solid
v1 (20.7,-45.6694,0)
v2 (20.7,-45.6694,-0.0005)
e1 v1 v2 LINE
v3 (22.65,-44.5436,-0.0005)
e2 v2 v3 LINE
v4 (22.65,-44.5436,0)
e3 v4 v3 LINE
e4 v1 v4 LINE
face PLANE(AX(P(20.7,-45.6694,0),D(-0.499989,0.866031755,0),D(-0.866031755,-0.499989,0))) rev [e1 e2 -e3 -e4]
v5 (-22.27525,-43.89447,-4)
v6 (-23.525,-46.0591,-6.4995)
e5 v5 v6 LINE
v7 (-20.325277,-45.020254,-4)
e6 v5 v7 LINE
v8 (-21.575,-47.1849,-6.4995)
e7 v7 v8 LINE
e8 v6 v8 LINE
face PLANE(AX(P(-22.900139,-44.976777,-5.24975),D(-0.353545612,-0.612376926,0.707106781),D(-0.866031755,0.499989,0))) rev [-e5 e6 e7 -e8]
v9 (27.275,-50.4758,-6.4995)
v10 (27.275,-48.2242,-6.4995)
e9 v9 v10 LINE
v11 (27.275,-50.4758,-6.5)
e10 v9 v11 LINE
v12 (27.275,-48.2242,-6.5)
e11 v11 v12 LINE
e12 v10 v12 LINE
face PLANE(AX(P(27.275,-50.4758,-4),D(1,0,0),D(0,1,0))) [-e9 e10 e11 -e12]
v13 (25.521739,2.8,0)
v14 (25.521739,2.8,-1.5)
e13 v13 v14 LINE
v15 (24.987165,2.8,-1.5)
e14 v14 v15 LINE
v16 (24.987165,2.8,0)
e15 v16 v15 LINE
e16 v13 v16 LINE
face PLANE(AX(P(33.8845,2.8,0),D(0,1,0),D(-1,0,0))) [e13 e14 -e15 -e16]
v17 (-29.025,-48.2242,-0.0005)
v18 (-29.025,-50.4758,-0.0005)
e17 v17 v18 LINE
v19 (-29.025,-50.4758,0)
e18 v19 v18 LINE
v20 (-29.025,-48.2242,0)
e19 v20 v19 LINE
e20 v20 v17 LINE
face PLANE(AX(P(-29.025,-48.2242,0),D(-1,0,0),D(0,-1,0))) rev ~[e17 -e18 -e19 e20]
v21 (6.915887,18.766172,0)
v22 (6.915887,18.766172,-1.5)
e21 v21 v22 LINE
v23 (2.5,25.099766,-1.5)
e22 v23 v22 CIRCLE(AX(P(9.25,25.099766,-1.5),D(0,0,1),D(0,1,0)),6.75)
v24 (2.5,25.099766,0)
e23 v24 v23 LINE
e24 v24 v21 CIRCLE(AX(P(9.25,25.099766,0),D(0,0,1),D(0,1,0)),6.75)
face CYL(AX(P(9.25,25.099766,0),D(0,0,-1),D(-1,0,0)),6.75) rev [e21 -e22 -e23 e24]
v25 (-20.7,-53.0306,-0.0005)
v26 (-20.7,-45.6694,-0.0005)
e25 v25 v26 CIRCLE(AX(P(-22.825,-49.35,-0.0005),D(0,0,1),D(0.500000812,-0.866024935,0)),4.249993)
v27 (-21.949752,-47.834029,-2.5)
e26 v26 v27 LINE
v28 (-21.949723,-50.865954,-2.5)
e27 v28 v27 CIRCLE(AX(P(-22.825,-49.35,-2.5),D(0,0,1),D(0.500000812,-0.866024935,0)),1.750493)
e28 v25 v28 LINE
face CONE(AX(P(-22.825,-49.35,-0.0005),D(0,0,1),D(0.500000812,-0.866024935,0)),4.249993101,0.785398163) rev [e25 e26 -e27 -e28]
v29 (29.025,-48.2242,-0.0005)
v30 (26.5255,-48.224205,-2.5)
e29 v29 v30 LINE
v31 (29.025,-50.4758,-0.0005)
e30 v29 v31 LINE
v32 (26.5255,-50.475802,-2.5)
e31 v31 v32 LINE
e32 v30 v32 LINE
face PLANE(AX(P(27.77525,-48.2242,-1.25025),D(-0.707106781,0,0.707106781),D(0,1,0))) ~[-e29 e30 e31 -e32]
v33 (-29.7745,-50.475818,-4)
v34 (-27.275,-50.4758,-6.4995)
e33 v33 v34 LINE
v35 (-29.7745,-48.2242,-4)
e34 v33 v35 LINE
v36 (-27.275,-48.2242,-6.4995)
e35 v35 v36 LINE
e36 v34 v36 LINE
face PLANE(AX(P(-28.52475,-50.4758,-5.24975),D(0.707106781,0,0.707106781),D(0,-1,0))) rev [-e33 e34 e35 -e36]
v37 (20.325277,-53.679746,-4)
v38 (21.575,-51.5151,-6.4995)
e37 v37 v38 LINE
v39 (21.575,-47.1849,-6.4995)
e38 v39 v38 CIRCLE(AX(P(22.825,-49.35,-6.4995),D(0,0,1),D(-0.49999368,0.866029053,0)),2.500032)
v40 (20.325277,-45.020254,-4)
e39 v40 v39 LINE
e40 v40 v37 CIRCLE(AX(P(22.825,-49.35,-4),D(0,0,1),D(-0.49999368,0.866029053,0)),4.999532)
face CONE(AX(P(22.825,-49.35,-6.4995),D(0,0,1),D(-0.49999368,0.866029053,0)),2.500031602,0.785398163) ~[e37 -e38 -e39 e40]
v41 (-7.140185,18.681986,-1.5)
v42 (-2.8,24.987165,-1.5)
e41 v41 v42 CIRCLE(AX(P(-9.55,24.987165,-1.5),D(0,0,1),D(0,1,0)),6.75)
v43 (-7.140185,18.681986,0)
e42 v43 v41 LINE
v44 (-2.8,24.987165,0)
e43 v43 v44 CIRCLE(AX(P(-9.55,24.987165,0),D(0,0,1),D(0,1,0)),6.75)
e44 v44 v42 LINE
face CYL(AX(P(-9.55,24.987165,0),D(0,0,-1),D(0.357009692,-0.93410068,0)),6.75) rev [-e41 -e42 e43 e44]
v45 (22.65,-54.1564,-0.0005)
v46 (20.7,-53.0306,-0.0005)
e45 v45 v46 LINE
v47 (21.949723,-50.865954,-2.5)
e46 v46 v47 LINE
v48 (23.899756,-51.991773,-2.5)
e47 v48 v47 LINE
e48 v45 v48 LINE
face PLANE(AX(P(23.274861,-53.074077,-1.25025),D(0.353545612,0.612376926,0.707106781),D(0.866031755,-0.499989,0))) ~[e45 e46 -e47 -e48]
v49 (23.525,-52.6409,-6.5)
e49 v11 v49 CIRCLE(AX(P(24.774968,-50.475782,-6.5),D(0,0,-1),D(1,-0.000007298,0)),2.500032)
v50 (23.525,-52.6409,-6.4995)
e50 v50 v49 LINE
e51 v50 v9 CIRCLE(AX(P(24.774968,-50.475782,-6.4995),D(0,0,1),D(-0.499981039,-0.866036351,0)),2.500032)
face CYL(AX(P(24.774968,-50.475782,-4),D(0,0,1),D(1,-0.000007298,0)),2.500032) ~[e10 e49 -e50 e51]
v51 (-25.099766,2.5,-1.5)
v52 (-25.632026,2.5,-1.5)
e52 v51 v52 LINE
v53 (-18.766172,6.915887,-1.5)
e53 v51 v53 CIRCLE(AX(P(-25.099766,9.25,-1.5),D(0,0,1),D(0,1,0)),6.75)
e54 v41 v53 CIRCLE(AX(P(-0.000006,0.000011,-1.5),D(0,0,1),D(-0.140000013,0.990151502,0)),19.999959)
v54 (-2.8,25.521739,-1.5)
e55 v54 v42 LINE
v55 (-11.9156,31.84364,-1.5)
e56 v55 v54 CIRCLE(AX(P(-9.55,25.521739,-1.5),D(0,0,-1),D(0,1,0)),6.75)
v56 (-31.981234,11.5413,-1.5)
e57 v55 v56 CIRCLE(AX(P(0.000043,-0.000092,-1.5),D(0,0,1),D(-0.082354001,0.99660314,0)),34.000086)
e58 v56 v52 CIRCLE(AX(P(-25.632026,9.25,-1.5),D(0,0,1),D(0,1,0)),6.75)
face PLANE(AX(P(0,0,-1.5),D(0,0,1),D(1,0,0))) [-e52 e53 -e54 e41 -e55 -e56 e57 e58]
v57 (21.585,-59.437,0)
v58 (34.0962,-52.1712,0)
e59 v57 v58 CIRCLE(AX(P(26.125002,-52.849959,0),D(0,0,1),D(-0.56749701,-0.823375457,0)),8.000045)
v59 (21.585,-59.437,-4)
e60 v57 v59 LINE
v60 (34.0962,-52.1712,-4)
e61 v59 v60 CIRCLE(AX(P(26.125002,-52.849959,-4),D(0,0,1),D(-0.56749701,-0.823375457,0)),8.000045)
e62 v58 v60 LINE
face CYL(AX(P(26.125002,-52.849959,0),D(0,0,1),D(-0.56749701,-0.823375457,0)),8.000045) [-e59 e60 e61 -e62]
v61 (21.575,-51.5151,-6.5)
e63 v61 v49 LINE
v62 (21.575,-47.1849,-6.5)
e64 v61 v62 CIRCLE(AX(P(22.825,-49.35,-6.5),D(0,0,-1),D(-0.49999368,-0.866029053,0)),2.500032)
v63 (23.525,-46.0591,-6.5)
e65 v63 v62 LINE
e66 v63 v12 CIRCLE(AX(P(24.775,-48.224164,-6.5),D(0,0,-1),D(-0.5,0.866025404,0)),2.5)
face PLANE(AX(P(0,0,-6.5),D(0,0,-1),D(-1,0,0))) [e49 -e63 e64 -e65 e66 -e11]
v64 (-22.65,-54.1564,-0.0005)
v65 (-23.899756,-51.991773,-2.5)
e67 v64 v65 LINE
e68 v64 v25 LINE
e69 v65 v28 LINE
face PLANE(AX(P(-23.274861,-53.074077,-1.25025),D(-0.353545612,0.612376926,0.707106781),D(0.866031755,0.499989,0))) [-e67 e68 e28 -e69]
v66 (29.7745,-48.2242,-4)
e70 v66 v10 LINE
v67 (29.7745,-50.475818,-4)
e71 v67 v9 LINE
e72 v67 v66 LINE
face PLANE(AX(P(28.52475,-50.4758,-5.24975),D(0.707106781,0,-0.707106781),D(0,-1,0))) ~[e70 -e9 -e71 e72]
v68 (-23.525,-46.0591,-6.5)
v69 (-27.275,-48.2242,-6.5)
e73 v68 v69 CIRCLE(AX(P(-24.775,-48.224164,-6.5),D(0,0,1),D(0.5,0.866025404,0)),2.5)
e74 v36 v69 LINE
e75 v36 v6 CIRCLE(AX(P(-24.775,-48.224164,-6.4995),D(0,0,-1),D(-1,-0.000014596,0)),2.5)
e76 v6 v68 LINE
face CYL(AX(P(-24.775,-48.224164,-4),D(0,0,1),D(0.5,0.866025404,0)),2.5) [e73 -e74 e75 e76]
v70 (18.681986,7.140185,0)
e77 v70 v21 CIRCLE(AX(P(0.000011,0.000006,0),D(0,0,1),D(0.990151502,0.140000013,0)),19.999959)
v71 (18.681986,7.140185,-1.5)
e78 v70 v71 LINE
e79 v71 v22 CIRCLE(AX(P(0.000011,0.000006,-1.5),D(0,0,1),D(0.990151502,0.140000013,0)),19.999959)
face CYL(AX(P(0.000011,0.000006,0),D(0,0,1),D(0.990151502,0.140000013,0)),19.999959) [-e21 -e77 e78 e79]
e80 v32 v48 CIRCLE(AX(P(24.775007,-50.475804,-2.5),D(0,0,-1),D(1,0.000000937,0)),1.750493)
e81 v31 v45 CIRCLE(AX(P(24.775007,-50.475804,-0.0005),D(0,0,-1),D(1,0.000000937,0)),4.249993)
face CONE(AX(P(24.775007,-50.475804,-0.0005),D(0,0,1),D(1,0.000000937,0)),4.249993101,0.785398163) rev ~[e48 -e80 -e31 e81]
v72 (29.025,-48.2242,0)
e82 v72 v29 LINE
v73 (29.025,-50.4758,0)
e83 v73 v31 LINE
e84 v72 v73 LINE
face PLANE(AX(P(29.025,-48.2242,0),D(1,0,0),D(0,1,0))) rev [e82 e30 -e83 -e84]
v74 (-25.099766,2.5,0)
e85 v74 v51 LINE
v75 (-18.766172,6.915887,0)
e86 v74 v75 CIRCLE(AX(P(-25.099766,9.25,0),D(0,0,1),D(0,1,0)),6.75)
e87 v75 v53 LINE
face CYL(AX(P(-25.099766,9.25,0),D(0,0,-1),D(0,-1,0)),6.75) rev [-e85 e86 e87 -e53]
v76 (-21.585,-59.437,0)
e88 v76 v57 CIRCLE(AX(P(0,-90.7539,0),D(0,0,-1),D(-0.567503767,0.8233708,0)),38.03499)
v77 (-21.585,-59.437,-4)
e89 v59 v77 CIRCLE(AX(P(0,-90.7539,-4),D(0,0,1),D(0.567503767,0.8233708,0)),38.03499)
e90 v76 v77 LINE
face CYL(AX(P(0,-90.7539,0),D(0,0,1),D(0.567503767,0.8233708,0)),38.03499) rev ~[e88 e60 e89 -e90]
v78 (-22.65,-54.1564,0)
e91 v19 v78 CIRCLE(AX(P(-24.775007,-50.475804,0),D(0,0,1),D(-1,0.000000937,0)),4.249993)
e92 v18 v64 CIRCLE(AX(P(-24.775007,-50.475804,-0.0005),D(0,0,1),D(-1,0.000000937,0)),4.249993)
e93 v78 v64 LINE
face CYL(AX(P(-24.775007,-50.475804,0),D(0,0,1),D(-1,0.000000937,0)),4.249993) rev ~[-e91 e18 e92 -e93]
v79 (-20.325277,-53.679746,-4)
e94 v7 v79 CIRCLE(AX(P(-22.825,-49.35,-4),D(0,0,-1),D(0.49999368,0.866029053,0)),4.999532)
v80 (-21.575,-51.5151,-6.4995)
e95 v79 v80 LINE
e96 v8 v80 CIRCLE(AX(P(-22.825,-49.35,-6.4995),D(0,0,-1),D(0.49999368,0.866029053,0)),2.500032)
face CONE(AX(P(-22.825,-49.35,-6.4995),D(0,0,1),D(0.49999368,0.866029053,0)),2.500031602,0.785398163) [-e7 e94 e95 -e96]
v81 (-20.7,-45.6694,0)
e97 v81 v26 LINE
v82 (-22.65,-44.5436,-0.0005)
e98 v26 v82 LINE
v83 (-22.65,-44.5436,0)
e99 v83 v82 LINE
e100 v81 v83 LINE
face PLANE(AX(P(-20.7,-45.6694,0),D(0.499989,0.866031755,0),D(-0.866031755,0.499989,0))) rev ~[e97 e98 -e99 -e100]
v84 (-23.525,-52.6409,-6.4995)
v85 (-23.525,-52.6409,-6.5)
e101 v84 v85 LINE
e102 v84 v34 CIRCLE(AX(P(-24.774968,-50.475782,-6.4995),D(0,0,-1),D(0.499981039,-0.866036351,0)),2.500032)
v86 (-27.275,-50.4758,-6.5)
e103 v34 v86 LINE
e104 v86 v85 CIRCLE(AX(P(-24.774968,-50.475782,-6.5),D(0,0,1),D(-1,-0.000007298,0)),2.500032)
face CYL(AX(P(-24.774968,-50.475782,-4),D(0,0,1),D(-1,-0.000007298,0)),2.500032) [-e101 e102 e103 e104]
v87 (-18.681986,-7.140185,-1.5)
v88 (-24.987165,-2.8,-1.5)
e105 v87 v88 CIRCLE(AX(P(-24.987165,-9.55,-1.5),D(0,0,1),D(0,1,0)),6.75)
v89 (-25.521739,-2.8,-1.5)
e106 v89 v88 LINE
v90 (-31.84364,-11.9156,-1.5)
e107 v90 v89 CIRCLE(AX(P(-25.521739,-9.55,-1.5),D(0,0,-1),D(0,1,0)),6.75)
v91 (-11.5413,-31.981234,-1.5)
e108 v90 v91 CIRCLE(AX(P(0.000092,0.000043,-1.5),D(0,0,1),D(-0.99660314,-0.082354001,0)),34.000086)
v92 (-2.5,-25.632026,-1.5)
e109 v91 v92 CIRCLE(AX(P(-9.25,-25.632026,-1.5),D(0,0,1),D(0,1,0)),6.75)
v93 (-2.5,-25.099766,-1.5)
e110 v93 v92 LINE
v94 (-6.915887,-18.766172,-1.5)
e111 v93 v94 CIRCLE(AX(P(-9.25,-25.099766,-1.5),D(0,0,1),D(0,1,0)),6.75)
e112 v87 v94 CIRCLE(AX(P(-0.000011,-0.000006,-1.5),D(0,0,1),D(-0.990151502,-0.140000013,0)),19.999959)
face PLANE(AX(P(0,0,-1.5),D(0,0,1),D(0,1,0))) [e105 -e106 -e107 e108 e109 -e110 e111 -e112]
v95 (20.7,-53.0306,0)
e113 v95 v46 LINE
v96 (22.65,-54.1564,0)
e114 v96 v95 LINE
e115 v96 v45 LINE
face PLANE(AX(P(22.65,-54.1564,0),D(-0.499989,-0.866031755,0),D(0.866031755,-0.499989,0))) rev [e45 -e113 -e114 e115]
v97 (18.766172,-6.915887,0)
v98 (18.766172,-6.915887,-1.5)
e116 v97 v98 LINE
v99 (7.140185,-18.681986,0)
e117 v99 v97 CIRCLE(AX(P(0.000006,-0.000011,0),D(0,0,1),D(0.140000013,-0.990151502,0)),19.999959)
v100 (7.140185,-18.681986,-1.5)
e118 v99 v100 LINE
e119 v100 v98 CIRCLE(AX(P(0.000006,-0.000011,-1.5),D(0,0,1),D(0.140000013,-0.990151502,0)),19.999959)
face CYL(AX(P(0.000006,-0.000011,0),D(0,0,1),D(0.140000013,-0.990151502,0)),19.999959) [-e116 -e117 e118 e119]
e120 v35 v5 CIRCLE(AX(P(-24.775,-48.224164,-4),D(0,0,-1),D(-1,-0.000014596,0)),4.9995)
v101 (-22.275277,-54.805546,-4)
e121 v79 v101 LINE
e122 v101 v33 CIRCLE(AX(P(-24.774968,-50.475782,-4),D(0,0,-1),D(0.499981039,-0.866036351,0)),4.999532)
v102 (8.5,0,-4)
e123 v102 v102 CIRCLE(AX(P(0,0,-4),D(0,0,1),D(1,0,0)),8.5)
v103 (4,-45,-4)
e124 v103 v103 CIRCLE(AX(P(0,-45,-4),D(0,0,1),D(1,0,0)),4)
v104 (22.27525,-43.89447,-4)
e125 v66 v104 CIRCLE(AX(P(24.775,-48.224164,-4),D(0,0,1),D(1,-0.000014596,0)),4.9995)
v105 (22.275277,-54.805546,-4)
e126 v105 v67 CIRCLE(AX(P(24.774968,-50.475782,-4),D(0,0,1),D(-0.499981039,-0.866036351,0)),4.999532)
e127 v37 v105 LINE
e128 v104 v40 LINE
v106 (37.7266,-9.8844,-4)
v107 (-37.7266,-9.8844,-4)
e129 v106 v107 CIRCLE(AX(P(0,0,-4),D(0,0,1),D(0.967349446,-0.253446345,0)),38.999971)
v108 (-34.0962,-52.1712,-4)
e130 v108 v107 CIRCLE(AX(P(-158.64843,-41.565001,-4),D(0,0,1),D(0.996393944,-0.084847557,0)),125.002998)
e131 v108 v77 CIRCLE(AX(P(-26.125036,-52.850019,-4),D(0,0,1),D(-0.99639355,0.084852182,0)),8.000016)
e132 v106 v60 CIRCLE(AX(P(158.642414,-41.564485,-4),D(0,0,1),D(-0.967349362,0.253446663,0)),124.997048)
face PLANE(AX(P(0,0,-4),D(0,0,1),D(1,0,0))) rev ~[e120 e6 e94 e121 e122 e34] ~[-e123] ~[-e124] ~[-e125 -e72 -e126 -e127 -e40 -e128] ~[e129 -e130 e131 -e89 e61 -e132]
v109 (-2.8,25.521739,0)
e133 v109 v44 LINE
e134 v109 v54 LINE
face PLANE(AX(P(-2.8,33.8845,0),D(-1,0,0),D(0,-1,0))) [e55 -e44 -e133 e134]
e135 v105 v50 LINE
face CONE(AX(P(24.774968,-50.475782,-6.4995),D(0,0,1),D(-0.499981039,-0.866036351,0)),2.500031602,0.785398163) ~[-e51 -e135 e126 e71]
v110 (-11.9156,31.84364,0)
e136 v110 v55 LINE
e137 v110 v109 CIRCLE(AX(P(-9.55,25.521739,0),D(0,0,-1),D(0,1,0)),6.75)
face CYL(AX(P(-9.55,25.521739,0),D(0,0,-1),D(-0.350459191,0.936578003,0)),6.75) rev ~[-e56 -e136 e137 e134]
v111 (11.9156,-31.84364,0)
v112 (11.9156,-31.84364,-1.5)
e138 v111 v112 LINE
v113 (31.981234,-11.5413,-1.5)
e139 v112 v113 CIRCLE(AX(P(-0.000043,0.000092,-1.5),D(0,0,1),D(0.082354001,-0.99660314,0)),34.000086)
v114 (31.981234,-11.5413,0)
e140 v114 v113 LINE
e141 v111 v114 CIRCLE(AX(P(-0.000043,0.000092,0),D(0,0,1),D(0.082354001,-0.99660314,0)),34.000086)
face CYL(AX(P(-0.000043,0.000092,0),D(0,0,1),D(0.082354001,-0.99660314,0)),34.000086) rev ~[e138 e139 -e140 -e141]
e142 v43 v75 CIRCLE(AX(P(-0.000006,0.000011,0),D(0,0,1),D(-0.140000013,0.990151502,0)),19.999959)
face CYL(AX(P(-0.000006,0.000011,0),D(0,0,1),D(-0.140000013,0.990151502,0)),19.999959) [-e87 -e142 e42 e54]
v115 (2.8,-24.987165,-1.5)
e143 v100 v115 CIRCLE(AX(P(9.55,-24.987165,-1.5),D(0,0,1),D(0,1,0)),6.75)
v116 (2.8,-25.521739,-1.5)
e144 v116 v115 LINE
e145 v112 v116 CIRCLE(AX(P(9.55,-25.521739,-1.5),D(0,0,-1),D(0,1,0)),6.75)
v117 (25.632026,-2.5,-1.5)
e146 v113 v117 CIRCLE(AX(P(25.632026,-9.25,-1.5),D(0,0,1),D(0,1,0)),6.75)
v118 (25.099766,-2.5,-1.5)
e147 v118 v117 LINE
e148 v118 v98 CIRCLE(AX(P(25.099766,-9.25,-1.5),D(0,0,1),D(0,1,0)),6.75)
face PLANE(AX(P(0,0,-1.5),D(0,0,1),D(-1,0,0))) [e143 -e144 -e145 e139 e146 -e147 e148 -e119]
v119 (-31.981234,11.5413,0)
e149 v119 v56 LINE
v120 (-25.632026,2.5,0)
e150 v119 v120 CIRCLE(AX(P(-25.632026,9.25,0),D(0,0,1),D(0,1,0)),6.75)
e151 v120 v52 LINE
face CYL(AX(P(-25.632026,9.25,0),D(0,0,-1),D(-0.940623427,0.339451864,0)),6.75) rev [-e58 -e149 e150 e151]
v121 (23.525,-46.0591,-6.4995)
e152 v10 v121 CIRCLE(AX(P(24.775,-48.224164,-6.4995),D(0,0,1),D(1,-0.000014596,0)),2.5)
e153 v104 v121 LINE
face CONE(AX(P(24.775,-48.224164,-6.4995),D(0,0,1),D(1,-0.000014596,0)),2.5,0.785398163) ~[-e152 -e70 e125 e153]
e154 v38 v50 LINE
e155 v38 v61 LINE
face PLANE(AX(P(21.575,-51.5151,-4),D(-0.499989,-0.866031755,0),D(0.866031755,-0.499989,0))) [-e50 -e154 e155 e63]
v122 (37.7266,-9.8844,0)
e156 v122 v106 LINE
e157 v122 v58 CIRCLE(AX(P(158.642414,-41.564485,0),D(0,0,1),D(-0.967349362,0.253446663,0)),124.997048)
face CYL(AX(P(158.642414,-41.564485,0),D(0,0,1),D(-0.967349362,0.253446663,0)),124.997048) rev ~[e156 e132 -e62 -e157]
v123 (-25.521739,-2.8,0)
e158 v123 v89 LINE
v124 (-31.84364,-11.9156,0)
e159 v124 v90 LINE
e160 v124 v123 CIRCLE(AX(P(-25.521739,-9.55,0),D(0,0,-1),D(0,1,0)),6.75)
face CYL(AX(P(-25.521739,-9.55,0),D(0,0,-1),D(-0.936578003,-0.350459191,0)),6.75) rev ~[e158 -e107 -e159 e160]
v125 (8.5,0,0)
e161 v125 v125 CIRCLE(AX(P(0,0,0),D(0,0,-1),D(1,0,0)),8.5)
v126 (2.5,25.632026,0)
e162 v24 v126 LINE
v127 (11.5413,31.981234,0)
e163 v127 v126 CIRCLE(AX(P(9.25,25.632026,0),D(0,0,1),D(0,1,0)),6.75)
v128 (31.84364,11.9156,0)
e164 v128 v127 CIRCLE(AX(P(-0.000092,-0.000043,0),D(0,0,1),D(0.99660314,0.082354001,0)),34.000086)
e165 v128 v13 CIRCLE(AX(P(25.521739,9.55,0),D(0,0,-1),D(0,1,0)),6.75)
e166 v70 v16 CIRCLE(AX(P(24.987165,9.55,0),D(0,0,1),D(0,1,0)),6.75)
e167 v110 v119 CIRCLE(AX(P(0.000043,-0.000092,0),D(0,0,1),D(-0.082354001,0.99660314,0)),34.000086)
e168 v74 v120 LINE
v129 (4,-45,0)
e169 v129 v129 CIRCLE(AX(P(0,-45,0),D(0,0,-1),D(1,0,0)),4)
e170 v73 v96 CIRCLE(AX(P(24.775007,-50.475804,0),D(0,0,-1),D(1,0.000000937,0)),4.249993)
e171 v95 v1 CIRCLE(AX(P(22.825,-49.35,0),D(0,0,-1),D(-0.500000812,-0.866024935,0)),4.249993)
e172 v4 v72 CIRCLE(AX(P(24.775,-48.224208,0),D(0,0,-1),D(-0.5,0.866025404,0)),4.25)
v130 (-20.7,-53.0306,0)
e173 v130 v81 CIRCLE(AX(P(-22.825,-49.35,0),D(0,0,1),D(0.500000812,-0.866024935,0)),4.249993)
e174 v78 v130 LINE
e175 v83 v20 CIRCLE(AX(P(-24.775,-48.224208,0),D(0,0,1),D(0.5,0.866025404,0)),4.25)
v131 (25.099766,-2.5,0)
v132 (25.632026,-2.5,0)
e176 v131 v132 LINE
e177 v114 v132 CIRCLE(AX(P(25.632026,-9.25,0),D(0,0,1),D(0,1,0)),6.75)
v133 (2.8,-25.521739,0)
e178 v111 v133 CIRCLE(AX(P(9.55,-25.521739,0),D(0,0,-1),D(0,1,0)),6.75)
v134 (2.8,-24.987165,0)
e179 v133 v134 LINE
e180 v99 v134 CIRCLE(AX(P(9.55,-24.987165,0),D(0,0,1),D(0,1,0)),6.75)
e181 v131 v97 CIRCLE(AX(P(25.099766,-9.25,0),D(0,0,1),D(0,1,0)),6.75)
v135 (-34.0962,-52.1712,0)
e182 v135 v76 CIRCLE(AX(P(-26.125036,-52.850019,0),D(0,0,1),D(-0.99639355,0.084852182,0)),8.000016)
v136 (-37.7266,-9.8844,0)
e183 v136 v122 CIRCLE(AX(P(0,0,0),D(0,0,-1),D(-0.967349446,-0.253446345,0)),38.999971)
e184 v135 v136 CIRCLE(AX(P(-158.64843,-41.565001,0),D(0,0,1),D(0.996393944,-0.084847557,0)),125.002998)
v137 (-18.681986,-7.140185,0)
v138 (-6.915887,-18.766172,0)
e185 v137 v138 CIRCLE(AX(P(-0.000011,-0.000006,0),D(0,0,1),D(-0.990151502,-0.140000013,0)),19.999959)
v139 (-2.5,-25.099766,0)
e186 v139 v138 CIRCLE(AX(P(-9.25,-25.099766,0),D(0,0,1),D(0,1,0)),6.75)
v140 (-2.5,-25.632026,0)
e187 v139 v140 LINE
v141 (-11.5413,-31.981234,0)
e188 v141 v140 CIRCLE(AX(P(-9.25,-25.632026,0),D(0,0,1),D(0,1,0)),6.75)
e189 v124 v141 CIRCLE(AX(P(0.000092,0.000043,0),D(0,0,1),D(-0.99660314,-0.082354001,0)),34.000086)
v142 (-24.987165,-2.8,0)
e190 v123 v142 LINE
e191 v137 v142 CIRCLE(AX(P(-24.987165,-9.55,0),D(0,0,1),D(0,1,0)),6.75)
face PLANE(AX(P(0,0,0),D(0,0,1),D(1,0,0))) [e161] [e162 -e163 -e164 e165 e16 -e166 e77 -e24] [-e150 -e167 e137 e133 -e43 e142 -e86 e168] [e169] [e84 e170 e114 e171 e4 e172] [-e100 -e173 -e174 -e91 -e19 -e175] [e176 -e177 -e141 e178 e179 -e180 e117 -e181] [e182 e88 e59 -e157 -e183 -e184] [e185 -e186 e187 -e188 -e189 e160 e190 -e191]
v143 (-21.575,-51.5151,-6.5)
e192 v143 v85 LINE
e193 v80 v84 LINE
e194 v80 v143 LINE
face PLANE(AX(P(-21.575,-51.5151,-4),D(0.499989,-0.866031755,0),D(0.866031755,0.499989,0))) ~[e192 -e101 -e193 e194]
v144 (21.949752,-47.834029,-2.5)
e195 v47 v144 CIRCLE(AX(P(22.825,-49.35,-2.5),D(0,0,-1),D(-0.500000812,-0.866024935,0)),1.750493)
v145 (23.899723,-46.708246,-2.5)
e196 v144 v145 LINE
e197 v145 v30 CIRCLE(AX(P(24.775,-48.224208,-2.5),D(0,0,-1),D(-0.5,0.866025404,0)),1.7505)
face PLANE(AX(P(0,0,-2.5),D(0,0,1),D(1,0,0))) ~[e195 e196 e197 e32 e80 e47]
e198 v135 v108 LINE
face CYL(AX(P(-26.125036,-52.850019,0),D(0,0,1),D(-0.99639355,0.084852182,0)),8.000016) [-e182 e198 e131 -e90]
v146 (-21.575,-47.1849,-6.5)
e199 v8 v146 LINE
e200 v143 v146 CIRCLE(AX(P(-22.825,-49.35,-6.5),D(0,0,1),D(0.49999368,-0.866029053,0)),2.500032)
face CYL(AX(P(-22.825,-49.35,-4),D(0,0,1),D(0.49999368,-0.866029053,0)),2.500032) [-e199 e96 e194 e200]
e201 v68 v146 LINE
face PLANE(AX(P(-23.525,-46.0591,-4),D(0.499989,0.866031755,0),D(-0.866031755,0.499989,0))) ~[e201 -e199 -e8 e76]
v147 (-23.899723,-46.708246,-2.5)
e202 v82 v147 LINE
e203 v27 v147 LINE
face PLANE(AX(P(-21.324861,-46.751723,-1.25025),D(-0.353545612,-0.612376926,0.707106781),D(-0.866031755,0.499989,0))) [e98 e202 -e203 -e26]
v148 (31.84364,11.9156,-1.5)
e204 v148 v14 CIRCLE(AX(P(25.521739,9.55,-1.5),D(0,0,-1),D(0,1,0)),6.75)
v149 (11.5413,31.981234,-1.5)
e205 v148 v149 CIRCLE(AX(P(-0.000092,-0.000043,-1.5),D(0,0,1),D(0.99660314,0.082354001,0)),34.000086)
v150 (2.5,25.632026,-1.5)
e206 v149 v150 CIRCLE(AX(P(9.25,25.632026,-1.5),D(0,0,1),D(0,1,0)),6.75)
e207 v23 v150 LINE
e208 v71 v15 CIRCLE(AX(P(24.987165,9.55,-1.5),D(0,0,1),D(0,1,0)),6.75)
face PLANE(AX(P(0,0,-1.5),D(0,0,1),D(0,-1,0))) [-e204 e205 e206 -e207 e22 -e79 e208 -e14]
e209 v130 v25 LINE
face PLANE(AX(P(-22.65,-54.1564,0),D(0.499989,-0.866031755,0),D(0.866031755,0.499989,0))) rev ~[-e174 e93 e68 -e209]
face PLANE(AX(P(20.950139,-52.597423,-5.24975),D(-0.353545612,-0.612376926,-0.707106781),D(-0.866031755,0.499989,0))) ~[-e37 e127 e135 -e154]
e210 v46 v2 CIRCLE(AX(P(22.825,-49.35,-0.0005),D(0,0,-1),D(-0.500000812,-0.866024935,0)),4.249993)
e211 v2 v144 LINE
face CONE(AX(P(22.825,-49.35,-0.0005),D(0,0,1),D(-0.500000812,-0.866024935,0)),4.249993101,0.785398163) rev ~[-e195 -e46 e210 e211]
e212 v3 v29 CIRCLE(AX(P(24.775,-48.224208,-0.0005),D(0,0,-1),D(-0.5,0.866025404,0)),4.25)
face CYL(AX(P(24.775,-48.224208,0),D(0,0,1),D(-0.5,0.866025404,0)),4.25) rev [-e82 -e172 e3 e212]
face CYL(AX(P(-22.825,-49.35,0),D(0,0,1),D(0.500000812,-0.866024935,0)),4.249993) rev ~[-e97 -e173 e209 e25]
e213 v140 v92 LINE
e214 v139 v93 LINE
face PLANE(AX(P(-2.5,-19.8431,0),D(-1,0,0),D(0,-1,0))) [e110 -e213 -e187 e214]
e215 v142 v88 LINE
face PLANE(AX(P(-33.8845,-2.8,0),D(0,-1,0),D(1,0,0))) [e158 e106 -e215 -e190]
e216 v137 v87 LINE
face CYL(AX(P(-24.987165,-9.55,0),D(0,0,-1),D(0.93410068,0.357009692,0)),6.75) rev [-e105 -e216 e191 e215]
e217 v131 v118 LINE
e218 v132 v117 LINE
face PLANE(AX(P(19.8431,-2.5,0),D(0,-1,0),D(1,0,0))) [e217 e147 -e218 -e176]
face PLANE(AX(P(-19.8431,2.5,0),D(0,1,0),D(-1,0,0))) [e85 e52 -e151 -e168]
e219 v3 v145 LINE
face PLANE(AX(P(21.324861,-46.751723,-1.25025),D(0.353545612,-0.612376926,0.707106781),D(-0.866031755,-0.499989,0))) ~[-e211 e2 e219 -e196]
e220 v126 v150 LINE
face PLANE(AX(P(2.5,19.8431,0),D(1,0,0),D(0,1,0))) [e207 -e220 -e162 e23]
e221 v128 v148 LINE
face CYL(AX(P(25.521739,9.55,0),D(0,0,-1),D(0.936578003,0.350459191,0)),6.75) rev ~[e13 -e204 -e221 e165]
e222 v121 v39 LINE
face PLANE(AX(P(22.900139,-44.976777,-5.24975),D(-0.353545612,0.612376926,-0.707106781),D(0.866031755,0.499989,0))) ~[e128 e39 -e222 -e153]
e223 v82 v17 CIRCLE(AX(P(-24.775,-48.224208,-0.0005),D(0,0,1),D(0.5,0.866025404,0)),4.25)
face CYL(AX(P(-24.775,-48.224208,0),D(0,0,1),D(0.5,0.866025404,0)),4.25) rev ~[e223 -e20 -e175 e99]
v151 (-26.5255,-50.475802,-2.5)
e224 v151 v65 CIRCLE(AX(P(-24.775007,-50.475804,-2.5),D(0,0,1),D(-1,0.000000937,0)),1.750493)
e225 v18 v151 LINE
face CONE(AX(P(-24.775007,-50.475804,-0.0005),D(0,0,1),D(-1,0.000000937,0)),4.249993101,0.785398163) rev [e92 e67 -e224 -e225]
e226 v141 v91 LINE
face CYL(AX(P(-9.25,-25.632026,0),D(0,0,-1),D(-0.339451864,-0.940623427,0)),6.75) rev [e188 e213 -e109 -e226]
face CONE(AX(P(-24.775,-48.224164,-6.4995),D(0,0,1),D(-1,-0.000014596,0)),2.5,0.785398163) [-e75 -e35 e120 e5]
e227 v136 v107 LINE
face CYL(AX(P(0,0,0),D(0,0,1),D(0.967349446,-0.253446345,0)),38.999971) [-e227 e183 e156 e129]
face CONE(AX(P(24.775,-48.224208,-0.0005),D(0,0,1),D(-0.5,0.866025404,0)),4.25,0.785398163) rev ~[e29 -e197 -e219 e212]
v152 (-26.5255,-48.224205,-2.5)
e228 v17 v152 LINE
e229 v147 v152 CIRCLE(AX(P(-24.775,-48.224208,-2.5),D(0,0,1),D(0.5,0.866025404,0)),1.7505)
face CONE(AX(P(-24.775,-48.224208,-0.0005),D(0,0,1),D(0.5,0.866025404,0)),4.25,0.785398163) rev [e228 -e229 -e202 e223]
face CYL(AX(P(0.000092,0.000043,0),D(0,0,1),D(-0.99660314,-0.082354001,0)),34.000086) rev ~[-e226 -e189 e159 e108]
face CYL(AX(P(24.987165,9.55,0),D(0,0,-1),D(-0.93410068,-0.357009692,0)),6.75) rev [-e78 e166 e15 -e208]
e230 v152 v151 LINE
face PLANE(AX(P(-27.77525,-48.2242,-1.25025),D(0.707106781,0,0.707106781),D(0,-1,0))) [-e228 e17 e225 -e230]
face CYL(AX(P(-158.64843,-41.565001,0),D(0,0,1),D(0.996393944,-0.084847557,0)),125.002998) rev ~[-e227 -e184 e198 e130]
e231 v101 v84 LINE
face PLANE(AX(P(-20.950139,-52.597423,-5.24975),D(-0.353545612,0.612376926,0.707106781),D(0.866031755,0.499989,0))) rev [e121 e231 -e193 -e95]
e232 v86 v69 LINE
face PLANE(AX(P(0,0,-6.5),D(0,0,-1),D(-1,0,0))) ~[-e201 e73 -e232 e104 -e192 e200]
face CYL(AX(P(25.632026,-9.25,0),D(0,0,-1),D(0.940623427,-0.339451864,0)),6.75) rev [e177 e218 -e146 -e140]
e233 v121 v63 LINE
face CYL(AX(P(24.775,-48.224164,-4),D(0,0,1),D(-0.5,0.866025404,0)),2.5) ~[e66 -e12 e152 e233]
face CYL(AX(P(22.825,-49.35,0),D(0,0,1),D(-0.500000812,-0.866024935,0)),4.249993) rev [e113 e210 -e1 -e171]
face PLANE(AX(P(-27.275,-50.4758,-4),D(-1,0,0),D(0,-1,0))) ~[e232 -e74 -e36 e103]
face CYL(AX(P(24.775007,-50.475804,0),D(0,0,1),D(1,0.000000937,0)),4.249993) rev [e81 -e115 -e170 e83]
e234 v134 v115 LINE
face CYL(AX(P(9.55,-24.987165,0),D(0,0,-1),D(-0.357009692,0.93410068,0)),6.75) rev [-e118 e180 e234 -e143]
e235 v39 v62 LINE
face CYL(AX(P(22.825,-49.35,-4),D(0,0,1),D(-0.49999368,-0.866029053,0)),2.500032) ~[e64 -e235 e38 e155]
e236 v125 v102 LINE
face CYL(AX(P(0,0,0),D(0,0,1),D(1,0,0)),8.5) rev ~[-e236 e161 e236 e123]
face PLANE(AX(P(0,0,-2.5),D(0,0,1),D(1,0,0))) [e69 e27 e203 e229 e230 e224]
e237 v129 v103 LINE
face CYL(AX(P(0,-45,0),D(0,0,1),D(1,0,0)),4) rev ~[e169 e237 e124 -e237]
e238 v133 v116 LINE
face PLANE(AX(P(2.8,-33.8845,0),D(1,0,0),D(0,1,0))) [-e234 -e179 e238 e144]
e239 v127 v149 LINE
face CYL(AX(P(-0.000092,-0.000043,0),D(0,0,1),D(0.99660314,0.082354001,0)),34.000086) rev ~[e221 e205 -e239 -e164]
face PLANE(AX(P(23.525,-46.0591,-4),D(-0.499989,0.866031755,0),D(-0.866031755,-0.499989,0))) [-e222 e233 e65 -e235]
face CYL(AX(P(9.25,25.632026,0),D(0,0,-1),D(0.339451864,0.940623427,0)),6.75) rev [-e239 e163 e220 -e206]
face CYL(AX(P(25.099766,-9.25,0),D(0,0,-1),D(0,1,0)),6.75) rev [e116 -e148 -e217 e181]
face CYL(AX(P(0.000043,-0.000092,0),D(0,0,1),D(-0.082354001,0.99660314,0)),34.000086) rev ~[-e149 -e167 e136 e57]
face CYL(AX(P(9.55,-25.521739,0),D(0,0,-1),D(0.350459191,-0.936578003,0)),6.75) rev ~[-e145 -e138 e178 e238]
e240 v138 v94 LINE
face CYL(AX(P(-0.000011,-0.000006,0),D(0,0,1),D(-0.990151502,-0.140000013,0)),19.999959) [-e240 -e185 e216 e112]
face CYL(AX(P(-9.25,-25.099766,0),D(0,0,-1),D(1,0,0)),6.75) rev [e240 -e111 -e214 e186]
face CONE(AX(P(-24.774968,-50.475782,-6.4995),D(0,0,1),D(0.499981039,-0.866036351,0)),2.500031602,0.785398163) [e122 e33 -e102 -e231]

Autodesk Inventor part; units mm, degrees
ref_plane "YZ Plane" through (0, 0, 0) normal (1, 0, 0) x (0, 1, 0)
ref_plane "XZ Plane" through (0, 0, 0) normal (0, 1, 0) x (-1, 0, 0)
ref_plane "XY Plane" through (0, 0, 0) normal (0, 0, 1) x (1, 0, 0)
sketch "Sketch1" plane through (0, 0, 0) normal (0, 0, 1) x (1, 0, 0)
  arc A0 (37.7266, -9.8844) -> (-37.7266, -9.8844) centre (0, 0) ccw
  arc A1 (-34.0962, -52.1712) -> (-21.585, -59.437) centre (-26.125, -52.85) ccw
  arc A2 (21.585, -59.437) -> (34.0962, -52.1712) centre (26.125, -52.85) ccw
  arc A3 (-34.0962, -52.1712) -> (-37.7266, -9.8844) centre (-158.6454, -41.565) ccw
  line L0 (0, 64.9508) -> (0, -116.7047) projected
  arc A4 (21.585, -59.437) -> (-21.585, -59.437) centre (0, -90.7539) ccw
  arc A5 (37.7266, -9.8844) -> (34.0962, -52.1712) centre (158.6454, -41.565) ccw
  dimension "d0" = 16
  dimension "d2" = 78
  dimension "d3" = 52.85
  dimension "d5" = 26.125
  dimension "d8" = 317.2907
  dimension "d9" = 26.125
  dimension "d10" = 38.035
extrude "Extrusion1" add sketch "Sketch1" against normal blind 4
sketch "Sketch2" plane through (0, 0, -4) normal (0, 0, -1) x (-1, 0, 0)
  arc A0 (37.7266, -9.8844) -> (-37.7266, -9.8844) centre (0, 0) ccw projected
  arc A1 (-34.0962, -52.1712) -> (-21.585, -59.437) centre (-26.125, -52.85) ccw projected
  arc A2 (21.585, -59.437) -> (-21.585, -59.437) centre (0, -90.7539) ccw projected
  line L0 (-27.275, -50.4758) -> (-27.275, -48.2242)
  line L1 (-21.575, -51.5151) -> (-23.525, -52.6409)
  line L2 (-23.525, -46.0591) -> (-21.575, -47.1849)
  arc A3 (-23.525, -46.0591) -> (-27.275, -48.2242) centre (-24.775, -48.2242) ccw
  arc A4 (-27.275, -50.4758) -> (-23.525, -52.6409) centre (-24.775, -50.4758) ccw
  arc A5 (-21.575, -51.5151) -> (-21.575, -47.1849) centre (-22.825, -49.35) ccw
  line L3 (0, -116.7047) -> (0, 64.9508) projected
  point P0 (-27.275, 27.8761)
  point P1 (-32.4256, -57.7797)
  point P2 (-9.7764, -53.9968)
  dimension "d13" = 60
  dimension "d14" = 60
  dimension "d15" = 2.5
  dimension "d16" = 22.825
  dimension "d17" = 49.35
  dimension "d18" = 60
  dimension "d19" = 1.95
extrude "Extrusion2" add sketch "Sketch2" along normal blind 2.5
chamfer "Chamfer1" distance 2.5 angle 45 6 edges at (22.55, -52.078, -4) (26.025, -52.6409, -4) (27.275, -49.35, -4) (26.025, -46.0591, -4) (22.55, -46.622, -4) (20.325, -49.35, -4)
mirror "Mirror1" about plane through (0, 0, 0) normal (1, 0, 0) of "Extrusion2", "Chamfer1"
sketch "Sketch3" plane through (0, 0, 0) normal (0, 0, 1) x (1, 0, 0)
  line L0 (-23.525, -46.0591) -> (-21.575, -47.1849) projected
  arc A0 (-21.575, -51.5151) -> (-21.575, -47.1849) centre (-22.825, -49.35) ccw projected
  line L1 (-21.575, -51.5151) -> (-23.525, -52.6409) projected
  arc A1 (-27.275, -50.4758) -> (-23.525, -52.6409) centre (-24.775, -50.4758) ccw projected
  line L2 (-27.275, -50.4758) -> (-27.275, -48.2242) projected
  arc A2 (-23.525, -46.0591) -> (-27.275, -48.2242) centre (-24.775, -48.2242) ccw projected
  line L3 (-22.65, -54.1564) -> (-20.7, -53.0306)
  arc A3 (-20.7, -53.0306) -> (-20.7, -45.6694) centre (-22.825, -49.35) ccw
  line L4 (-20.7, -45.6694) -> (-22.65, -44.5436)
  arc A4 (-22.65, -44.5436) -> (-29.025, -48.2242) centre (-24.775, -48.2242) ccw
  line L5 (-29.025, -48.2242) -> (-29.025, -50.4758)
  arc A5 (-29.025, -50.4758) -> (-22.65, -54.1564) centre (-24.775, -50.4758) ccw
  dimension "d30" = 1.75
extrude "Extrusion3" cut sketch "Sketch3" against normal blind 2.5 contours L0 A0 L1 A1 L2 A2 | A5 L5 A4 L4 A3 L3
chamfer "Chamfer2" distance 2.5 angle 45 6 edges at (-26.9, -54.1564, -2.5) (-21.675, -53.5935, -2.5) (-18.575, -49.35, -2.5) (-21.675, -45.1065, -2.5) (-26.9, -44.5436, -2.5) (-29.025, -49.35, -2.5)
mirror "Mirror2" about plane through (0, 0, 0) normal (1, 0, 0) of "Extrusion3", "Chamfer2"
sketch "Sketch4" plane through (0, 0, 0) normal (0, 0, 1) x (1, 0, 0)
  circle A0 centre (0, 0) radius 8.5
  line L0 (0, 0) -> (0, -45)
  circle A1 centre (0, -45) radius 4
  dimension "d31" = 17
  dimension "d32" = 45
  dimension "d33" = 8
extrude "Extrusion4" cut sketch "Sketch4" against normal through all
sketch "Sketch5" plane through (0, 0, 0) normal (0, 0, 1) x (1, 0, 0)
  circle A0 centre (0, 0) radius 8.5 projected
  line L0 (-29.025, -50.4758) -> (-29.025, -48.2242) projected
  arc A1 (37.7266, -9.8844) -> (-37.7266, -9.8844) centre (0, 0) ccw projected
  arc A2 (-2.8, 33.8845) -> (-33.908, 2.5) centre (0, 0) ccw
  arc A3 (-2.8, 19.803) -> (-19.8431, 2.5) centre (0, 0) ccw
  line L1 (-2.8, 33.8845) -> (-2.8, 19.803)
  line L2 (-19.8431, 2.5) -> (-33.908, 2.5)
  dimension "d36" = 68
  dimension "d37" = 40
  dimension "d38" = 2.5
  dimension "d39" = 2.8
extrude "Extrusion5" cut sketch "Sketch5" against normal blind 1.5 contours L1 A3 L2 A2
fillet "Fillet1" radius 6.75 4 edges at (-2.8, 33.8845, -0.75) (-2.8, 19.803, -0.75) (-19.8431, 2.5, -0.75) (-33.908, 2.5, -0.75)
pattern_circular "Circular Pattern1" count 4 over 360 about axis through (0, 0, 0) along (0, 0, -1) of "Extrusion5", "Fillet1"
properties part number "201-09" material "Steel"
